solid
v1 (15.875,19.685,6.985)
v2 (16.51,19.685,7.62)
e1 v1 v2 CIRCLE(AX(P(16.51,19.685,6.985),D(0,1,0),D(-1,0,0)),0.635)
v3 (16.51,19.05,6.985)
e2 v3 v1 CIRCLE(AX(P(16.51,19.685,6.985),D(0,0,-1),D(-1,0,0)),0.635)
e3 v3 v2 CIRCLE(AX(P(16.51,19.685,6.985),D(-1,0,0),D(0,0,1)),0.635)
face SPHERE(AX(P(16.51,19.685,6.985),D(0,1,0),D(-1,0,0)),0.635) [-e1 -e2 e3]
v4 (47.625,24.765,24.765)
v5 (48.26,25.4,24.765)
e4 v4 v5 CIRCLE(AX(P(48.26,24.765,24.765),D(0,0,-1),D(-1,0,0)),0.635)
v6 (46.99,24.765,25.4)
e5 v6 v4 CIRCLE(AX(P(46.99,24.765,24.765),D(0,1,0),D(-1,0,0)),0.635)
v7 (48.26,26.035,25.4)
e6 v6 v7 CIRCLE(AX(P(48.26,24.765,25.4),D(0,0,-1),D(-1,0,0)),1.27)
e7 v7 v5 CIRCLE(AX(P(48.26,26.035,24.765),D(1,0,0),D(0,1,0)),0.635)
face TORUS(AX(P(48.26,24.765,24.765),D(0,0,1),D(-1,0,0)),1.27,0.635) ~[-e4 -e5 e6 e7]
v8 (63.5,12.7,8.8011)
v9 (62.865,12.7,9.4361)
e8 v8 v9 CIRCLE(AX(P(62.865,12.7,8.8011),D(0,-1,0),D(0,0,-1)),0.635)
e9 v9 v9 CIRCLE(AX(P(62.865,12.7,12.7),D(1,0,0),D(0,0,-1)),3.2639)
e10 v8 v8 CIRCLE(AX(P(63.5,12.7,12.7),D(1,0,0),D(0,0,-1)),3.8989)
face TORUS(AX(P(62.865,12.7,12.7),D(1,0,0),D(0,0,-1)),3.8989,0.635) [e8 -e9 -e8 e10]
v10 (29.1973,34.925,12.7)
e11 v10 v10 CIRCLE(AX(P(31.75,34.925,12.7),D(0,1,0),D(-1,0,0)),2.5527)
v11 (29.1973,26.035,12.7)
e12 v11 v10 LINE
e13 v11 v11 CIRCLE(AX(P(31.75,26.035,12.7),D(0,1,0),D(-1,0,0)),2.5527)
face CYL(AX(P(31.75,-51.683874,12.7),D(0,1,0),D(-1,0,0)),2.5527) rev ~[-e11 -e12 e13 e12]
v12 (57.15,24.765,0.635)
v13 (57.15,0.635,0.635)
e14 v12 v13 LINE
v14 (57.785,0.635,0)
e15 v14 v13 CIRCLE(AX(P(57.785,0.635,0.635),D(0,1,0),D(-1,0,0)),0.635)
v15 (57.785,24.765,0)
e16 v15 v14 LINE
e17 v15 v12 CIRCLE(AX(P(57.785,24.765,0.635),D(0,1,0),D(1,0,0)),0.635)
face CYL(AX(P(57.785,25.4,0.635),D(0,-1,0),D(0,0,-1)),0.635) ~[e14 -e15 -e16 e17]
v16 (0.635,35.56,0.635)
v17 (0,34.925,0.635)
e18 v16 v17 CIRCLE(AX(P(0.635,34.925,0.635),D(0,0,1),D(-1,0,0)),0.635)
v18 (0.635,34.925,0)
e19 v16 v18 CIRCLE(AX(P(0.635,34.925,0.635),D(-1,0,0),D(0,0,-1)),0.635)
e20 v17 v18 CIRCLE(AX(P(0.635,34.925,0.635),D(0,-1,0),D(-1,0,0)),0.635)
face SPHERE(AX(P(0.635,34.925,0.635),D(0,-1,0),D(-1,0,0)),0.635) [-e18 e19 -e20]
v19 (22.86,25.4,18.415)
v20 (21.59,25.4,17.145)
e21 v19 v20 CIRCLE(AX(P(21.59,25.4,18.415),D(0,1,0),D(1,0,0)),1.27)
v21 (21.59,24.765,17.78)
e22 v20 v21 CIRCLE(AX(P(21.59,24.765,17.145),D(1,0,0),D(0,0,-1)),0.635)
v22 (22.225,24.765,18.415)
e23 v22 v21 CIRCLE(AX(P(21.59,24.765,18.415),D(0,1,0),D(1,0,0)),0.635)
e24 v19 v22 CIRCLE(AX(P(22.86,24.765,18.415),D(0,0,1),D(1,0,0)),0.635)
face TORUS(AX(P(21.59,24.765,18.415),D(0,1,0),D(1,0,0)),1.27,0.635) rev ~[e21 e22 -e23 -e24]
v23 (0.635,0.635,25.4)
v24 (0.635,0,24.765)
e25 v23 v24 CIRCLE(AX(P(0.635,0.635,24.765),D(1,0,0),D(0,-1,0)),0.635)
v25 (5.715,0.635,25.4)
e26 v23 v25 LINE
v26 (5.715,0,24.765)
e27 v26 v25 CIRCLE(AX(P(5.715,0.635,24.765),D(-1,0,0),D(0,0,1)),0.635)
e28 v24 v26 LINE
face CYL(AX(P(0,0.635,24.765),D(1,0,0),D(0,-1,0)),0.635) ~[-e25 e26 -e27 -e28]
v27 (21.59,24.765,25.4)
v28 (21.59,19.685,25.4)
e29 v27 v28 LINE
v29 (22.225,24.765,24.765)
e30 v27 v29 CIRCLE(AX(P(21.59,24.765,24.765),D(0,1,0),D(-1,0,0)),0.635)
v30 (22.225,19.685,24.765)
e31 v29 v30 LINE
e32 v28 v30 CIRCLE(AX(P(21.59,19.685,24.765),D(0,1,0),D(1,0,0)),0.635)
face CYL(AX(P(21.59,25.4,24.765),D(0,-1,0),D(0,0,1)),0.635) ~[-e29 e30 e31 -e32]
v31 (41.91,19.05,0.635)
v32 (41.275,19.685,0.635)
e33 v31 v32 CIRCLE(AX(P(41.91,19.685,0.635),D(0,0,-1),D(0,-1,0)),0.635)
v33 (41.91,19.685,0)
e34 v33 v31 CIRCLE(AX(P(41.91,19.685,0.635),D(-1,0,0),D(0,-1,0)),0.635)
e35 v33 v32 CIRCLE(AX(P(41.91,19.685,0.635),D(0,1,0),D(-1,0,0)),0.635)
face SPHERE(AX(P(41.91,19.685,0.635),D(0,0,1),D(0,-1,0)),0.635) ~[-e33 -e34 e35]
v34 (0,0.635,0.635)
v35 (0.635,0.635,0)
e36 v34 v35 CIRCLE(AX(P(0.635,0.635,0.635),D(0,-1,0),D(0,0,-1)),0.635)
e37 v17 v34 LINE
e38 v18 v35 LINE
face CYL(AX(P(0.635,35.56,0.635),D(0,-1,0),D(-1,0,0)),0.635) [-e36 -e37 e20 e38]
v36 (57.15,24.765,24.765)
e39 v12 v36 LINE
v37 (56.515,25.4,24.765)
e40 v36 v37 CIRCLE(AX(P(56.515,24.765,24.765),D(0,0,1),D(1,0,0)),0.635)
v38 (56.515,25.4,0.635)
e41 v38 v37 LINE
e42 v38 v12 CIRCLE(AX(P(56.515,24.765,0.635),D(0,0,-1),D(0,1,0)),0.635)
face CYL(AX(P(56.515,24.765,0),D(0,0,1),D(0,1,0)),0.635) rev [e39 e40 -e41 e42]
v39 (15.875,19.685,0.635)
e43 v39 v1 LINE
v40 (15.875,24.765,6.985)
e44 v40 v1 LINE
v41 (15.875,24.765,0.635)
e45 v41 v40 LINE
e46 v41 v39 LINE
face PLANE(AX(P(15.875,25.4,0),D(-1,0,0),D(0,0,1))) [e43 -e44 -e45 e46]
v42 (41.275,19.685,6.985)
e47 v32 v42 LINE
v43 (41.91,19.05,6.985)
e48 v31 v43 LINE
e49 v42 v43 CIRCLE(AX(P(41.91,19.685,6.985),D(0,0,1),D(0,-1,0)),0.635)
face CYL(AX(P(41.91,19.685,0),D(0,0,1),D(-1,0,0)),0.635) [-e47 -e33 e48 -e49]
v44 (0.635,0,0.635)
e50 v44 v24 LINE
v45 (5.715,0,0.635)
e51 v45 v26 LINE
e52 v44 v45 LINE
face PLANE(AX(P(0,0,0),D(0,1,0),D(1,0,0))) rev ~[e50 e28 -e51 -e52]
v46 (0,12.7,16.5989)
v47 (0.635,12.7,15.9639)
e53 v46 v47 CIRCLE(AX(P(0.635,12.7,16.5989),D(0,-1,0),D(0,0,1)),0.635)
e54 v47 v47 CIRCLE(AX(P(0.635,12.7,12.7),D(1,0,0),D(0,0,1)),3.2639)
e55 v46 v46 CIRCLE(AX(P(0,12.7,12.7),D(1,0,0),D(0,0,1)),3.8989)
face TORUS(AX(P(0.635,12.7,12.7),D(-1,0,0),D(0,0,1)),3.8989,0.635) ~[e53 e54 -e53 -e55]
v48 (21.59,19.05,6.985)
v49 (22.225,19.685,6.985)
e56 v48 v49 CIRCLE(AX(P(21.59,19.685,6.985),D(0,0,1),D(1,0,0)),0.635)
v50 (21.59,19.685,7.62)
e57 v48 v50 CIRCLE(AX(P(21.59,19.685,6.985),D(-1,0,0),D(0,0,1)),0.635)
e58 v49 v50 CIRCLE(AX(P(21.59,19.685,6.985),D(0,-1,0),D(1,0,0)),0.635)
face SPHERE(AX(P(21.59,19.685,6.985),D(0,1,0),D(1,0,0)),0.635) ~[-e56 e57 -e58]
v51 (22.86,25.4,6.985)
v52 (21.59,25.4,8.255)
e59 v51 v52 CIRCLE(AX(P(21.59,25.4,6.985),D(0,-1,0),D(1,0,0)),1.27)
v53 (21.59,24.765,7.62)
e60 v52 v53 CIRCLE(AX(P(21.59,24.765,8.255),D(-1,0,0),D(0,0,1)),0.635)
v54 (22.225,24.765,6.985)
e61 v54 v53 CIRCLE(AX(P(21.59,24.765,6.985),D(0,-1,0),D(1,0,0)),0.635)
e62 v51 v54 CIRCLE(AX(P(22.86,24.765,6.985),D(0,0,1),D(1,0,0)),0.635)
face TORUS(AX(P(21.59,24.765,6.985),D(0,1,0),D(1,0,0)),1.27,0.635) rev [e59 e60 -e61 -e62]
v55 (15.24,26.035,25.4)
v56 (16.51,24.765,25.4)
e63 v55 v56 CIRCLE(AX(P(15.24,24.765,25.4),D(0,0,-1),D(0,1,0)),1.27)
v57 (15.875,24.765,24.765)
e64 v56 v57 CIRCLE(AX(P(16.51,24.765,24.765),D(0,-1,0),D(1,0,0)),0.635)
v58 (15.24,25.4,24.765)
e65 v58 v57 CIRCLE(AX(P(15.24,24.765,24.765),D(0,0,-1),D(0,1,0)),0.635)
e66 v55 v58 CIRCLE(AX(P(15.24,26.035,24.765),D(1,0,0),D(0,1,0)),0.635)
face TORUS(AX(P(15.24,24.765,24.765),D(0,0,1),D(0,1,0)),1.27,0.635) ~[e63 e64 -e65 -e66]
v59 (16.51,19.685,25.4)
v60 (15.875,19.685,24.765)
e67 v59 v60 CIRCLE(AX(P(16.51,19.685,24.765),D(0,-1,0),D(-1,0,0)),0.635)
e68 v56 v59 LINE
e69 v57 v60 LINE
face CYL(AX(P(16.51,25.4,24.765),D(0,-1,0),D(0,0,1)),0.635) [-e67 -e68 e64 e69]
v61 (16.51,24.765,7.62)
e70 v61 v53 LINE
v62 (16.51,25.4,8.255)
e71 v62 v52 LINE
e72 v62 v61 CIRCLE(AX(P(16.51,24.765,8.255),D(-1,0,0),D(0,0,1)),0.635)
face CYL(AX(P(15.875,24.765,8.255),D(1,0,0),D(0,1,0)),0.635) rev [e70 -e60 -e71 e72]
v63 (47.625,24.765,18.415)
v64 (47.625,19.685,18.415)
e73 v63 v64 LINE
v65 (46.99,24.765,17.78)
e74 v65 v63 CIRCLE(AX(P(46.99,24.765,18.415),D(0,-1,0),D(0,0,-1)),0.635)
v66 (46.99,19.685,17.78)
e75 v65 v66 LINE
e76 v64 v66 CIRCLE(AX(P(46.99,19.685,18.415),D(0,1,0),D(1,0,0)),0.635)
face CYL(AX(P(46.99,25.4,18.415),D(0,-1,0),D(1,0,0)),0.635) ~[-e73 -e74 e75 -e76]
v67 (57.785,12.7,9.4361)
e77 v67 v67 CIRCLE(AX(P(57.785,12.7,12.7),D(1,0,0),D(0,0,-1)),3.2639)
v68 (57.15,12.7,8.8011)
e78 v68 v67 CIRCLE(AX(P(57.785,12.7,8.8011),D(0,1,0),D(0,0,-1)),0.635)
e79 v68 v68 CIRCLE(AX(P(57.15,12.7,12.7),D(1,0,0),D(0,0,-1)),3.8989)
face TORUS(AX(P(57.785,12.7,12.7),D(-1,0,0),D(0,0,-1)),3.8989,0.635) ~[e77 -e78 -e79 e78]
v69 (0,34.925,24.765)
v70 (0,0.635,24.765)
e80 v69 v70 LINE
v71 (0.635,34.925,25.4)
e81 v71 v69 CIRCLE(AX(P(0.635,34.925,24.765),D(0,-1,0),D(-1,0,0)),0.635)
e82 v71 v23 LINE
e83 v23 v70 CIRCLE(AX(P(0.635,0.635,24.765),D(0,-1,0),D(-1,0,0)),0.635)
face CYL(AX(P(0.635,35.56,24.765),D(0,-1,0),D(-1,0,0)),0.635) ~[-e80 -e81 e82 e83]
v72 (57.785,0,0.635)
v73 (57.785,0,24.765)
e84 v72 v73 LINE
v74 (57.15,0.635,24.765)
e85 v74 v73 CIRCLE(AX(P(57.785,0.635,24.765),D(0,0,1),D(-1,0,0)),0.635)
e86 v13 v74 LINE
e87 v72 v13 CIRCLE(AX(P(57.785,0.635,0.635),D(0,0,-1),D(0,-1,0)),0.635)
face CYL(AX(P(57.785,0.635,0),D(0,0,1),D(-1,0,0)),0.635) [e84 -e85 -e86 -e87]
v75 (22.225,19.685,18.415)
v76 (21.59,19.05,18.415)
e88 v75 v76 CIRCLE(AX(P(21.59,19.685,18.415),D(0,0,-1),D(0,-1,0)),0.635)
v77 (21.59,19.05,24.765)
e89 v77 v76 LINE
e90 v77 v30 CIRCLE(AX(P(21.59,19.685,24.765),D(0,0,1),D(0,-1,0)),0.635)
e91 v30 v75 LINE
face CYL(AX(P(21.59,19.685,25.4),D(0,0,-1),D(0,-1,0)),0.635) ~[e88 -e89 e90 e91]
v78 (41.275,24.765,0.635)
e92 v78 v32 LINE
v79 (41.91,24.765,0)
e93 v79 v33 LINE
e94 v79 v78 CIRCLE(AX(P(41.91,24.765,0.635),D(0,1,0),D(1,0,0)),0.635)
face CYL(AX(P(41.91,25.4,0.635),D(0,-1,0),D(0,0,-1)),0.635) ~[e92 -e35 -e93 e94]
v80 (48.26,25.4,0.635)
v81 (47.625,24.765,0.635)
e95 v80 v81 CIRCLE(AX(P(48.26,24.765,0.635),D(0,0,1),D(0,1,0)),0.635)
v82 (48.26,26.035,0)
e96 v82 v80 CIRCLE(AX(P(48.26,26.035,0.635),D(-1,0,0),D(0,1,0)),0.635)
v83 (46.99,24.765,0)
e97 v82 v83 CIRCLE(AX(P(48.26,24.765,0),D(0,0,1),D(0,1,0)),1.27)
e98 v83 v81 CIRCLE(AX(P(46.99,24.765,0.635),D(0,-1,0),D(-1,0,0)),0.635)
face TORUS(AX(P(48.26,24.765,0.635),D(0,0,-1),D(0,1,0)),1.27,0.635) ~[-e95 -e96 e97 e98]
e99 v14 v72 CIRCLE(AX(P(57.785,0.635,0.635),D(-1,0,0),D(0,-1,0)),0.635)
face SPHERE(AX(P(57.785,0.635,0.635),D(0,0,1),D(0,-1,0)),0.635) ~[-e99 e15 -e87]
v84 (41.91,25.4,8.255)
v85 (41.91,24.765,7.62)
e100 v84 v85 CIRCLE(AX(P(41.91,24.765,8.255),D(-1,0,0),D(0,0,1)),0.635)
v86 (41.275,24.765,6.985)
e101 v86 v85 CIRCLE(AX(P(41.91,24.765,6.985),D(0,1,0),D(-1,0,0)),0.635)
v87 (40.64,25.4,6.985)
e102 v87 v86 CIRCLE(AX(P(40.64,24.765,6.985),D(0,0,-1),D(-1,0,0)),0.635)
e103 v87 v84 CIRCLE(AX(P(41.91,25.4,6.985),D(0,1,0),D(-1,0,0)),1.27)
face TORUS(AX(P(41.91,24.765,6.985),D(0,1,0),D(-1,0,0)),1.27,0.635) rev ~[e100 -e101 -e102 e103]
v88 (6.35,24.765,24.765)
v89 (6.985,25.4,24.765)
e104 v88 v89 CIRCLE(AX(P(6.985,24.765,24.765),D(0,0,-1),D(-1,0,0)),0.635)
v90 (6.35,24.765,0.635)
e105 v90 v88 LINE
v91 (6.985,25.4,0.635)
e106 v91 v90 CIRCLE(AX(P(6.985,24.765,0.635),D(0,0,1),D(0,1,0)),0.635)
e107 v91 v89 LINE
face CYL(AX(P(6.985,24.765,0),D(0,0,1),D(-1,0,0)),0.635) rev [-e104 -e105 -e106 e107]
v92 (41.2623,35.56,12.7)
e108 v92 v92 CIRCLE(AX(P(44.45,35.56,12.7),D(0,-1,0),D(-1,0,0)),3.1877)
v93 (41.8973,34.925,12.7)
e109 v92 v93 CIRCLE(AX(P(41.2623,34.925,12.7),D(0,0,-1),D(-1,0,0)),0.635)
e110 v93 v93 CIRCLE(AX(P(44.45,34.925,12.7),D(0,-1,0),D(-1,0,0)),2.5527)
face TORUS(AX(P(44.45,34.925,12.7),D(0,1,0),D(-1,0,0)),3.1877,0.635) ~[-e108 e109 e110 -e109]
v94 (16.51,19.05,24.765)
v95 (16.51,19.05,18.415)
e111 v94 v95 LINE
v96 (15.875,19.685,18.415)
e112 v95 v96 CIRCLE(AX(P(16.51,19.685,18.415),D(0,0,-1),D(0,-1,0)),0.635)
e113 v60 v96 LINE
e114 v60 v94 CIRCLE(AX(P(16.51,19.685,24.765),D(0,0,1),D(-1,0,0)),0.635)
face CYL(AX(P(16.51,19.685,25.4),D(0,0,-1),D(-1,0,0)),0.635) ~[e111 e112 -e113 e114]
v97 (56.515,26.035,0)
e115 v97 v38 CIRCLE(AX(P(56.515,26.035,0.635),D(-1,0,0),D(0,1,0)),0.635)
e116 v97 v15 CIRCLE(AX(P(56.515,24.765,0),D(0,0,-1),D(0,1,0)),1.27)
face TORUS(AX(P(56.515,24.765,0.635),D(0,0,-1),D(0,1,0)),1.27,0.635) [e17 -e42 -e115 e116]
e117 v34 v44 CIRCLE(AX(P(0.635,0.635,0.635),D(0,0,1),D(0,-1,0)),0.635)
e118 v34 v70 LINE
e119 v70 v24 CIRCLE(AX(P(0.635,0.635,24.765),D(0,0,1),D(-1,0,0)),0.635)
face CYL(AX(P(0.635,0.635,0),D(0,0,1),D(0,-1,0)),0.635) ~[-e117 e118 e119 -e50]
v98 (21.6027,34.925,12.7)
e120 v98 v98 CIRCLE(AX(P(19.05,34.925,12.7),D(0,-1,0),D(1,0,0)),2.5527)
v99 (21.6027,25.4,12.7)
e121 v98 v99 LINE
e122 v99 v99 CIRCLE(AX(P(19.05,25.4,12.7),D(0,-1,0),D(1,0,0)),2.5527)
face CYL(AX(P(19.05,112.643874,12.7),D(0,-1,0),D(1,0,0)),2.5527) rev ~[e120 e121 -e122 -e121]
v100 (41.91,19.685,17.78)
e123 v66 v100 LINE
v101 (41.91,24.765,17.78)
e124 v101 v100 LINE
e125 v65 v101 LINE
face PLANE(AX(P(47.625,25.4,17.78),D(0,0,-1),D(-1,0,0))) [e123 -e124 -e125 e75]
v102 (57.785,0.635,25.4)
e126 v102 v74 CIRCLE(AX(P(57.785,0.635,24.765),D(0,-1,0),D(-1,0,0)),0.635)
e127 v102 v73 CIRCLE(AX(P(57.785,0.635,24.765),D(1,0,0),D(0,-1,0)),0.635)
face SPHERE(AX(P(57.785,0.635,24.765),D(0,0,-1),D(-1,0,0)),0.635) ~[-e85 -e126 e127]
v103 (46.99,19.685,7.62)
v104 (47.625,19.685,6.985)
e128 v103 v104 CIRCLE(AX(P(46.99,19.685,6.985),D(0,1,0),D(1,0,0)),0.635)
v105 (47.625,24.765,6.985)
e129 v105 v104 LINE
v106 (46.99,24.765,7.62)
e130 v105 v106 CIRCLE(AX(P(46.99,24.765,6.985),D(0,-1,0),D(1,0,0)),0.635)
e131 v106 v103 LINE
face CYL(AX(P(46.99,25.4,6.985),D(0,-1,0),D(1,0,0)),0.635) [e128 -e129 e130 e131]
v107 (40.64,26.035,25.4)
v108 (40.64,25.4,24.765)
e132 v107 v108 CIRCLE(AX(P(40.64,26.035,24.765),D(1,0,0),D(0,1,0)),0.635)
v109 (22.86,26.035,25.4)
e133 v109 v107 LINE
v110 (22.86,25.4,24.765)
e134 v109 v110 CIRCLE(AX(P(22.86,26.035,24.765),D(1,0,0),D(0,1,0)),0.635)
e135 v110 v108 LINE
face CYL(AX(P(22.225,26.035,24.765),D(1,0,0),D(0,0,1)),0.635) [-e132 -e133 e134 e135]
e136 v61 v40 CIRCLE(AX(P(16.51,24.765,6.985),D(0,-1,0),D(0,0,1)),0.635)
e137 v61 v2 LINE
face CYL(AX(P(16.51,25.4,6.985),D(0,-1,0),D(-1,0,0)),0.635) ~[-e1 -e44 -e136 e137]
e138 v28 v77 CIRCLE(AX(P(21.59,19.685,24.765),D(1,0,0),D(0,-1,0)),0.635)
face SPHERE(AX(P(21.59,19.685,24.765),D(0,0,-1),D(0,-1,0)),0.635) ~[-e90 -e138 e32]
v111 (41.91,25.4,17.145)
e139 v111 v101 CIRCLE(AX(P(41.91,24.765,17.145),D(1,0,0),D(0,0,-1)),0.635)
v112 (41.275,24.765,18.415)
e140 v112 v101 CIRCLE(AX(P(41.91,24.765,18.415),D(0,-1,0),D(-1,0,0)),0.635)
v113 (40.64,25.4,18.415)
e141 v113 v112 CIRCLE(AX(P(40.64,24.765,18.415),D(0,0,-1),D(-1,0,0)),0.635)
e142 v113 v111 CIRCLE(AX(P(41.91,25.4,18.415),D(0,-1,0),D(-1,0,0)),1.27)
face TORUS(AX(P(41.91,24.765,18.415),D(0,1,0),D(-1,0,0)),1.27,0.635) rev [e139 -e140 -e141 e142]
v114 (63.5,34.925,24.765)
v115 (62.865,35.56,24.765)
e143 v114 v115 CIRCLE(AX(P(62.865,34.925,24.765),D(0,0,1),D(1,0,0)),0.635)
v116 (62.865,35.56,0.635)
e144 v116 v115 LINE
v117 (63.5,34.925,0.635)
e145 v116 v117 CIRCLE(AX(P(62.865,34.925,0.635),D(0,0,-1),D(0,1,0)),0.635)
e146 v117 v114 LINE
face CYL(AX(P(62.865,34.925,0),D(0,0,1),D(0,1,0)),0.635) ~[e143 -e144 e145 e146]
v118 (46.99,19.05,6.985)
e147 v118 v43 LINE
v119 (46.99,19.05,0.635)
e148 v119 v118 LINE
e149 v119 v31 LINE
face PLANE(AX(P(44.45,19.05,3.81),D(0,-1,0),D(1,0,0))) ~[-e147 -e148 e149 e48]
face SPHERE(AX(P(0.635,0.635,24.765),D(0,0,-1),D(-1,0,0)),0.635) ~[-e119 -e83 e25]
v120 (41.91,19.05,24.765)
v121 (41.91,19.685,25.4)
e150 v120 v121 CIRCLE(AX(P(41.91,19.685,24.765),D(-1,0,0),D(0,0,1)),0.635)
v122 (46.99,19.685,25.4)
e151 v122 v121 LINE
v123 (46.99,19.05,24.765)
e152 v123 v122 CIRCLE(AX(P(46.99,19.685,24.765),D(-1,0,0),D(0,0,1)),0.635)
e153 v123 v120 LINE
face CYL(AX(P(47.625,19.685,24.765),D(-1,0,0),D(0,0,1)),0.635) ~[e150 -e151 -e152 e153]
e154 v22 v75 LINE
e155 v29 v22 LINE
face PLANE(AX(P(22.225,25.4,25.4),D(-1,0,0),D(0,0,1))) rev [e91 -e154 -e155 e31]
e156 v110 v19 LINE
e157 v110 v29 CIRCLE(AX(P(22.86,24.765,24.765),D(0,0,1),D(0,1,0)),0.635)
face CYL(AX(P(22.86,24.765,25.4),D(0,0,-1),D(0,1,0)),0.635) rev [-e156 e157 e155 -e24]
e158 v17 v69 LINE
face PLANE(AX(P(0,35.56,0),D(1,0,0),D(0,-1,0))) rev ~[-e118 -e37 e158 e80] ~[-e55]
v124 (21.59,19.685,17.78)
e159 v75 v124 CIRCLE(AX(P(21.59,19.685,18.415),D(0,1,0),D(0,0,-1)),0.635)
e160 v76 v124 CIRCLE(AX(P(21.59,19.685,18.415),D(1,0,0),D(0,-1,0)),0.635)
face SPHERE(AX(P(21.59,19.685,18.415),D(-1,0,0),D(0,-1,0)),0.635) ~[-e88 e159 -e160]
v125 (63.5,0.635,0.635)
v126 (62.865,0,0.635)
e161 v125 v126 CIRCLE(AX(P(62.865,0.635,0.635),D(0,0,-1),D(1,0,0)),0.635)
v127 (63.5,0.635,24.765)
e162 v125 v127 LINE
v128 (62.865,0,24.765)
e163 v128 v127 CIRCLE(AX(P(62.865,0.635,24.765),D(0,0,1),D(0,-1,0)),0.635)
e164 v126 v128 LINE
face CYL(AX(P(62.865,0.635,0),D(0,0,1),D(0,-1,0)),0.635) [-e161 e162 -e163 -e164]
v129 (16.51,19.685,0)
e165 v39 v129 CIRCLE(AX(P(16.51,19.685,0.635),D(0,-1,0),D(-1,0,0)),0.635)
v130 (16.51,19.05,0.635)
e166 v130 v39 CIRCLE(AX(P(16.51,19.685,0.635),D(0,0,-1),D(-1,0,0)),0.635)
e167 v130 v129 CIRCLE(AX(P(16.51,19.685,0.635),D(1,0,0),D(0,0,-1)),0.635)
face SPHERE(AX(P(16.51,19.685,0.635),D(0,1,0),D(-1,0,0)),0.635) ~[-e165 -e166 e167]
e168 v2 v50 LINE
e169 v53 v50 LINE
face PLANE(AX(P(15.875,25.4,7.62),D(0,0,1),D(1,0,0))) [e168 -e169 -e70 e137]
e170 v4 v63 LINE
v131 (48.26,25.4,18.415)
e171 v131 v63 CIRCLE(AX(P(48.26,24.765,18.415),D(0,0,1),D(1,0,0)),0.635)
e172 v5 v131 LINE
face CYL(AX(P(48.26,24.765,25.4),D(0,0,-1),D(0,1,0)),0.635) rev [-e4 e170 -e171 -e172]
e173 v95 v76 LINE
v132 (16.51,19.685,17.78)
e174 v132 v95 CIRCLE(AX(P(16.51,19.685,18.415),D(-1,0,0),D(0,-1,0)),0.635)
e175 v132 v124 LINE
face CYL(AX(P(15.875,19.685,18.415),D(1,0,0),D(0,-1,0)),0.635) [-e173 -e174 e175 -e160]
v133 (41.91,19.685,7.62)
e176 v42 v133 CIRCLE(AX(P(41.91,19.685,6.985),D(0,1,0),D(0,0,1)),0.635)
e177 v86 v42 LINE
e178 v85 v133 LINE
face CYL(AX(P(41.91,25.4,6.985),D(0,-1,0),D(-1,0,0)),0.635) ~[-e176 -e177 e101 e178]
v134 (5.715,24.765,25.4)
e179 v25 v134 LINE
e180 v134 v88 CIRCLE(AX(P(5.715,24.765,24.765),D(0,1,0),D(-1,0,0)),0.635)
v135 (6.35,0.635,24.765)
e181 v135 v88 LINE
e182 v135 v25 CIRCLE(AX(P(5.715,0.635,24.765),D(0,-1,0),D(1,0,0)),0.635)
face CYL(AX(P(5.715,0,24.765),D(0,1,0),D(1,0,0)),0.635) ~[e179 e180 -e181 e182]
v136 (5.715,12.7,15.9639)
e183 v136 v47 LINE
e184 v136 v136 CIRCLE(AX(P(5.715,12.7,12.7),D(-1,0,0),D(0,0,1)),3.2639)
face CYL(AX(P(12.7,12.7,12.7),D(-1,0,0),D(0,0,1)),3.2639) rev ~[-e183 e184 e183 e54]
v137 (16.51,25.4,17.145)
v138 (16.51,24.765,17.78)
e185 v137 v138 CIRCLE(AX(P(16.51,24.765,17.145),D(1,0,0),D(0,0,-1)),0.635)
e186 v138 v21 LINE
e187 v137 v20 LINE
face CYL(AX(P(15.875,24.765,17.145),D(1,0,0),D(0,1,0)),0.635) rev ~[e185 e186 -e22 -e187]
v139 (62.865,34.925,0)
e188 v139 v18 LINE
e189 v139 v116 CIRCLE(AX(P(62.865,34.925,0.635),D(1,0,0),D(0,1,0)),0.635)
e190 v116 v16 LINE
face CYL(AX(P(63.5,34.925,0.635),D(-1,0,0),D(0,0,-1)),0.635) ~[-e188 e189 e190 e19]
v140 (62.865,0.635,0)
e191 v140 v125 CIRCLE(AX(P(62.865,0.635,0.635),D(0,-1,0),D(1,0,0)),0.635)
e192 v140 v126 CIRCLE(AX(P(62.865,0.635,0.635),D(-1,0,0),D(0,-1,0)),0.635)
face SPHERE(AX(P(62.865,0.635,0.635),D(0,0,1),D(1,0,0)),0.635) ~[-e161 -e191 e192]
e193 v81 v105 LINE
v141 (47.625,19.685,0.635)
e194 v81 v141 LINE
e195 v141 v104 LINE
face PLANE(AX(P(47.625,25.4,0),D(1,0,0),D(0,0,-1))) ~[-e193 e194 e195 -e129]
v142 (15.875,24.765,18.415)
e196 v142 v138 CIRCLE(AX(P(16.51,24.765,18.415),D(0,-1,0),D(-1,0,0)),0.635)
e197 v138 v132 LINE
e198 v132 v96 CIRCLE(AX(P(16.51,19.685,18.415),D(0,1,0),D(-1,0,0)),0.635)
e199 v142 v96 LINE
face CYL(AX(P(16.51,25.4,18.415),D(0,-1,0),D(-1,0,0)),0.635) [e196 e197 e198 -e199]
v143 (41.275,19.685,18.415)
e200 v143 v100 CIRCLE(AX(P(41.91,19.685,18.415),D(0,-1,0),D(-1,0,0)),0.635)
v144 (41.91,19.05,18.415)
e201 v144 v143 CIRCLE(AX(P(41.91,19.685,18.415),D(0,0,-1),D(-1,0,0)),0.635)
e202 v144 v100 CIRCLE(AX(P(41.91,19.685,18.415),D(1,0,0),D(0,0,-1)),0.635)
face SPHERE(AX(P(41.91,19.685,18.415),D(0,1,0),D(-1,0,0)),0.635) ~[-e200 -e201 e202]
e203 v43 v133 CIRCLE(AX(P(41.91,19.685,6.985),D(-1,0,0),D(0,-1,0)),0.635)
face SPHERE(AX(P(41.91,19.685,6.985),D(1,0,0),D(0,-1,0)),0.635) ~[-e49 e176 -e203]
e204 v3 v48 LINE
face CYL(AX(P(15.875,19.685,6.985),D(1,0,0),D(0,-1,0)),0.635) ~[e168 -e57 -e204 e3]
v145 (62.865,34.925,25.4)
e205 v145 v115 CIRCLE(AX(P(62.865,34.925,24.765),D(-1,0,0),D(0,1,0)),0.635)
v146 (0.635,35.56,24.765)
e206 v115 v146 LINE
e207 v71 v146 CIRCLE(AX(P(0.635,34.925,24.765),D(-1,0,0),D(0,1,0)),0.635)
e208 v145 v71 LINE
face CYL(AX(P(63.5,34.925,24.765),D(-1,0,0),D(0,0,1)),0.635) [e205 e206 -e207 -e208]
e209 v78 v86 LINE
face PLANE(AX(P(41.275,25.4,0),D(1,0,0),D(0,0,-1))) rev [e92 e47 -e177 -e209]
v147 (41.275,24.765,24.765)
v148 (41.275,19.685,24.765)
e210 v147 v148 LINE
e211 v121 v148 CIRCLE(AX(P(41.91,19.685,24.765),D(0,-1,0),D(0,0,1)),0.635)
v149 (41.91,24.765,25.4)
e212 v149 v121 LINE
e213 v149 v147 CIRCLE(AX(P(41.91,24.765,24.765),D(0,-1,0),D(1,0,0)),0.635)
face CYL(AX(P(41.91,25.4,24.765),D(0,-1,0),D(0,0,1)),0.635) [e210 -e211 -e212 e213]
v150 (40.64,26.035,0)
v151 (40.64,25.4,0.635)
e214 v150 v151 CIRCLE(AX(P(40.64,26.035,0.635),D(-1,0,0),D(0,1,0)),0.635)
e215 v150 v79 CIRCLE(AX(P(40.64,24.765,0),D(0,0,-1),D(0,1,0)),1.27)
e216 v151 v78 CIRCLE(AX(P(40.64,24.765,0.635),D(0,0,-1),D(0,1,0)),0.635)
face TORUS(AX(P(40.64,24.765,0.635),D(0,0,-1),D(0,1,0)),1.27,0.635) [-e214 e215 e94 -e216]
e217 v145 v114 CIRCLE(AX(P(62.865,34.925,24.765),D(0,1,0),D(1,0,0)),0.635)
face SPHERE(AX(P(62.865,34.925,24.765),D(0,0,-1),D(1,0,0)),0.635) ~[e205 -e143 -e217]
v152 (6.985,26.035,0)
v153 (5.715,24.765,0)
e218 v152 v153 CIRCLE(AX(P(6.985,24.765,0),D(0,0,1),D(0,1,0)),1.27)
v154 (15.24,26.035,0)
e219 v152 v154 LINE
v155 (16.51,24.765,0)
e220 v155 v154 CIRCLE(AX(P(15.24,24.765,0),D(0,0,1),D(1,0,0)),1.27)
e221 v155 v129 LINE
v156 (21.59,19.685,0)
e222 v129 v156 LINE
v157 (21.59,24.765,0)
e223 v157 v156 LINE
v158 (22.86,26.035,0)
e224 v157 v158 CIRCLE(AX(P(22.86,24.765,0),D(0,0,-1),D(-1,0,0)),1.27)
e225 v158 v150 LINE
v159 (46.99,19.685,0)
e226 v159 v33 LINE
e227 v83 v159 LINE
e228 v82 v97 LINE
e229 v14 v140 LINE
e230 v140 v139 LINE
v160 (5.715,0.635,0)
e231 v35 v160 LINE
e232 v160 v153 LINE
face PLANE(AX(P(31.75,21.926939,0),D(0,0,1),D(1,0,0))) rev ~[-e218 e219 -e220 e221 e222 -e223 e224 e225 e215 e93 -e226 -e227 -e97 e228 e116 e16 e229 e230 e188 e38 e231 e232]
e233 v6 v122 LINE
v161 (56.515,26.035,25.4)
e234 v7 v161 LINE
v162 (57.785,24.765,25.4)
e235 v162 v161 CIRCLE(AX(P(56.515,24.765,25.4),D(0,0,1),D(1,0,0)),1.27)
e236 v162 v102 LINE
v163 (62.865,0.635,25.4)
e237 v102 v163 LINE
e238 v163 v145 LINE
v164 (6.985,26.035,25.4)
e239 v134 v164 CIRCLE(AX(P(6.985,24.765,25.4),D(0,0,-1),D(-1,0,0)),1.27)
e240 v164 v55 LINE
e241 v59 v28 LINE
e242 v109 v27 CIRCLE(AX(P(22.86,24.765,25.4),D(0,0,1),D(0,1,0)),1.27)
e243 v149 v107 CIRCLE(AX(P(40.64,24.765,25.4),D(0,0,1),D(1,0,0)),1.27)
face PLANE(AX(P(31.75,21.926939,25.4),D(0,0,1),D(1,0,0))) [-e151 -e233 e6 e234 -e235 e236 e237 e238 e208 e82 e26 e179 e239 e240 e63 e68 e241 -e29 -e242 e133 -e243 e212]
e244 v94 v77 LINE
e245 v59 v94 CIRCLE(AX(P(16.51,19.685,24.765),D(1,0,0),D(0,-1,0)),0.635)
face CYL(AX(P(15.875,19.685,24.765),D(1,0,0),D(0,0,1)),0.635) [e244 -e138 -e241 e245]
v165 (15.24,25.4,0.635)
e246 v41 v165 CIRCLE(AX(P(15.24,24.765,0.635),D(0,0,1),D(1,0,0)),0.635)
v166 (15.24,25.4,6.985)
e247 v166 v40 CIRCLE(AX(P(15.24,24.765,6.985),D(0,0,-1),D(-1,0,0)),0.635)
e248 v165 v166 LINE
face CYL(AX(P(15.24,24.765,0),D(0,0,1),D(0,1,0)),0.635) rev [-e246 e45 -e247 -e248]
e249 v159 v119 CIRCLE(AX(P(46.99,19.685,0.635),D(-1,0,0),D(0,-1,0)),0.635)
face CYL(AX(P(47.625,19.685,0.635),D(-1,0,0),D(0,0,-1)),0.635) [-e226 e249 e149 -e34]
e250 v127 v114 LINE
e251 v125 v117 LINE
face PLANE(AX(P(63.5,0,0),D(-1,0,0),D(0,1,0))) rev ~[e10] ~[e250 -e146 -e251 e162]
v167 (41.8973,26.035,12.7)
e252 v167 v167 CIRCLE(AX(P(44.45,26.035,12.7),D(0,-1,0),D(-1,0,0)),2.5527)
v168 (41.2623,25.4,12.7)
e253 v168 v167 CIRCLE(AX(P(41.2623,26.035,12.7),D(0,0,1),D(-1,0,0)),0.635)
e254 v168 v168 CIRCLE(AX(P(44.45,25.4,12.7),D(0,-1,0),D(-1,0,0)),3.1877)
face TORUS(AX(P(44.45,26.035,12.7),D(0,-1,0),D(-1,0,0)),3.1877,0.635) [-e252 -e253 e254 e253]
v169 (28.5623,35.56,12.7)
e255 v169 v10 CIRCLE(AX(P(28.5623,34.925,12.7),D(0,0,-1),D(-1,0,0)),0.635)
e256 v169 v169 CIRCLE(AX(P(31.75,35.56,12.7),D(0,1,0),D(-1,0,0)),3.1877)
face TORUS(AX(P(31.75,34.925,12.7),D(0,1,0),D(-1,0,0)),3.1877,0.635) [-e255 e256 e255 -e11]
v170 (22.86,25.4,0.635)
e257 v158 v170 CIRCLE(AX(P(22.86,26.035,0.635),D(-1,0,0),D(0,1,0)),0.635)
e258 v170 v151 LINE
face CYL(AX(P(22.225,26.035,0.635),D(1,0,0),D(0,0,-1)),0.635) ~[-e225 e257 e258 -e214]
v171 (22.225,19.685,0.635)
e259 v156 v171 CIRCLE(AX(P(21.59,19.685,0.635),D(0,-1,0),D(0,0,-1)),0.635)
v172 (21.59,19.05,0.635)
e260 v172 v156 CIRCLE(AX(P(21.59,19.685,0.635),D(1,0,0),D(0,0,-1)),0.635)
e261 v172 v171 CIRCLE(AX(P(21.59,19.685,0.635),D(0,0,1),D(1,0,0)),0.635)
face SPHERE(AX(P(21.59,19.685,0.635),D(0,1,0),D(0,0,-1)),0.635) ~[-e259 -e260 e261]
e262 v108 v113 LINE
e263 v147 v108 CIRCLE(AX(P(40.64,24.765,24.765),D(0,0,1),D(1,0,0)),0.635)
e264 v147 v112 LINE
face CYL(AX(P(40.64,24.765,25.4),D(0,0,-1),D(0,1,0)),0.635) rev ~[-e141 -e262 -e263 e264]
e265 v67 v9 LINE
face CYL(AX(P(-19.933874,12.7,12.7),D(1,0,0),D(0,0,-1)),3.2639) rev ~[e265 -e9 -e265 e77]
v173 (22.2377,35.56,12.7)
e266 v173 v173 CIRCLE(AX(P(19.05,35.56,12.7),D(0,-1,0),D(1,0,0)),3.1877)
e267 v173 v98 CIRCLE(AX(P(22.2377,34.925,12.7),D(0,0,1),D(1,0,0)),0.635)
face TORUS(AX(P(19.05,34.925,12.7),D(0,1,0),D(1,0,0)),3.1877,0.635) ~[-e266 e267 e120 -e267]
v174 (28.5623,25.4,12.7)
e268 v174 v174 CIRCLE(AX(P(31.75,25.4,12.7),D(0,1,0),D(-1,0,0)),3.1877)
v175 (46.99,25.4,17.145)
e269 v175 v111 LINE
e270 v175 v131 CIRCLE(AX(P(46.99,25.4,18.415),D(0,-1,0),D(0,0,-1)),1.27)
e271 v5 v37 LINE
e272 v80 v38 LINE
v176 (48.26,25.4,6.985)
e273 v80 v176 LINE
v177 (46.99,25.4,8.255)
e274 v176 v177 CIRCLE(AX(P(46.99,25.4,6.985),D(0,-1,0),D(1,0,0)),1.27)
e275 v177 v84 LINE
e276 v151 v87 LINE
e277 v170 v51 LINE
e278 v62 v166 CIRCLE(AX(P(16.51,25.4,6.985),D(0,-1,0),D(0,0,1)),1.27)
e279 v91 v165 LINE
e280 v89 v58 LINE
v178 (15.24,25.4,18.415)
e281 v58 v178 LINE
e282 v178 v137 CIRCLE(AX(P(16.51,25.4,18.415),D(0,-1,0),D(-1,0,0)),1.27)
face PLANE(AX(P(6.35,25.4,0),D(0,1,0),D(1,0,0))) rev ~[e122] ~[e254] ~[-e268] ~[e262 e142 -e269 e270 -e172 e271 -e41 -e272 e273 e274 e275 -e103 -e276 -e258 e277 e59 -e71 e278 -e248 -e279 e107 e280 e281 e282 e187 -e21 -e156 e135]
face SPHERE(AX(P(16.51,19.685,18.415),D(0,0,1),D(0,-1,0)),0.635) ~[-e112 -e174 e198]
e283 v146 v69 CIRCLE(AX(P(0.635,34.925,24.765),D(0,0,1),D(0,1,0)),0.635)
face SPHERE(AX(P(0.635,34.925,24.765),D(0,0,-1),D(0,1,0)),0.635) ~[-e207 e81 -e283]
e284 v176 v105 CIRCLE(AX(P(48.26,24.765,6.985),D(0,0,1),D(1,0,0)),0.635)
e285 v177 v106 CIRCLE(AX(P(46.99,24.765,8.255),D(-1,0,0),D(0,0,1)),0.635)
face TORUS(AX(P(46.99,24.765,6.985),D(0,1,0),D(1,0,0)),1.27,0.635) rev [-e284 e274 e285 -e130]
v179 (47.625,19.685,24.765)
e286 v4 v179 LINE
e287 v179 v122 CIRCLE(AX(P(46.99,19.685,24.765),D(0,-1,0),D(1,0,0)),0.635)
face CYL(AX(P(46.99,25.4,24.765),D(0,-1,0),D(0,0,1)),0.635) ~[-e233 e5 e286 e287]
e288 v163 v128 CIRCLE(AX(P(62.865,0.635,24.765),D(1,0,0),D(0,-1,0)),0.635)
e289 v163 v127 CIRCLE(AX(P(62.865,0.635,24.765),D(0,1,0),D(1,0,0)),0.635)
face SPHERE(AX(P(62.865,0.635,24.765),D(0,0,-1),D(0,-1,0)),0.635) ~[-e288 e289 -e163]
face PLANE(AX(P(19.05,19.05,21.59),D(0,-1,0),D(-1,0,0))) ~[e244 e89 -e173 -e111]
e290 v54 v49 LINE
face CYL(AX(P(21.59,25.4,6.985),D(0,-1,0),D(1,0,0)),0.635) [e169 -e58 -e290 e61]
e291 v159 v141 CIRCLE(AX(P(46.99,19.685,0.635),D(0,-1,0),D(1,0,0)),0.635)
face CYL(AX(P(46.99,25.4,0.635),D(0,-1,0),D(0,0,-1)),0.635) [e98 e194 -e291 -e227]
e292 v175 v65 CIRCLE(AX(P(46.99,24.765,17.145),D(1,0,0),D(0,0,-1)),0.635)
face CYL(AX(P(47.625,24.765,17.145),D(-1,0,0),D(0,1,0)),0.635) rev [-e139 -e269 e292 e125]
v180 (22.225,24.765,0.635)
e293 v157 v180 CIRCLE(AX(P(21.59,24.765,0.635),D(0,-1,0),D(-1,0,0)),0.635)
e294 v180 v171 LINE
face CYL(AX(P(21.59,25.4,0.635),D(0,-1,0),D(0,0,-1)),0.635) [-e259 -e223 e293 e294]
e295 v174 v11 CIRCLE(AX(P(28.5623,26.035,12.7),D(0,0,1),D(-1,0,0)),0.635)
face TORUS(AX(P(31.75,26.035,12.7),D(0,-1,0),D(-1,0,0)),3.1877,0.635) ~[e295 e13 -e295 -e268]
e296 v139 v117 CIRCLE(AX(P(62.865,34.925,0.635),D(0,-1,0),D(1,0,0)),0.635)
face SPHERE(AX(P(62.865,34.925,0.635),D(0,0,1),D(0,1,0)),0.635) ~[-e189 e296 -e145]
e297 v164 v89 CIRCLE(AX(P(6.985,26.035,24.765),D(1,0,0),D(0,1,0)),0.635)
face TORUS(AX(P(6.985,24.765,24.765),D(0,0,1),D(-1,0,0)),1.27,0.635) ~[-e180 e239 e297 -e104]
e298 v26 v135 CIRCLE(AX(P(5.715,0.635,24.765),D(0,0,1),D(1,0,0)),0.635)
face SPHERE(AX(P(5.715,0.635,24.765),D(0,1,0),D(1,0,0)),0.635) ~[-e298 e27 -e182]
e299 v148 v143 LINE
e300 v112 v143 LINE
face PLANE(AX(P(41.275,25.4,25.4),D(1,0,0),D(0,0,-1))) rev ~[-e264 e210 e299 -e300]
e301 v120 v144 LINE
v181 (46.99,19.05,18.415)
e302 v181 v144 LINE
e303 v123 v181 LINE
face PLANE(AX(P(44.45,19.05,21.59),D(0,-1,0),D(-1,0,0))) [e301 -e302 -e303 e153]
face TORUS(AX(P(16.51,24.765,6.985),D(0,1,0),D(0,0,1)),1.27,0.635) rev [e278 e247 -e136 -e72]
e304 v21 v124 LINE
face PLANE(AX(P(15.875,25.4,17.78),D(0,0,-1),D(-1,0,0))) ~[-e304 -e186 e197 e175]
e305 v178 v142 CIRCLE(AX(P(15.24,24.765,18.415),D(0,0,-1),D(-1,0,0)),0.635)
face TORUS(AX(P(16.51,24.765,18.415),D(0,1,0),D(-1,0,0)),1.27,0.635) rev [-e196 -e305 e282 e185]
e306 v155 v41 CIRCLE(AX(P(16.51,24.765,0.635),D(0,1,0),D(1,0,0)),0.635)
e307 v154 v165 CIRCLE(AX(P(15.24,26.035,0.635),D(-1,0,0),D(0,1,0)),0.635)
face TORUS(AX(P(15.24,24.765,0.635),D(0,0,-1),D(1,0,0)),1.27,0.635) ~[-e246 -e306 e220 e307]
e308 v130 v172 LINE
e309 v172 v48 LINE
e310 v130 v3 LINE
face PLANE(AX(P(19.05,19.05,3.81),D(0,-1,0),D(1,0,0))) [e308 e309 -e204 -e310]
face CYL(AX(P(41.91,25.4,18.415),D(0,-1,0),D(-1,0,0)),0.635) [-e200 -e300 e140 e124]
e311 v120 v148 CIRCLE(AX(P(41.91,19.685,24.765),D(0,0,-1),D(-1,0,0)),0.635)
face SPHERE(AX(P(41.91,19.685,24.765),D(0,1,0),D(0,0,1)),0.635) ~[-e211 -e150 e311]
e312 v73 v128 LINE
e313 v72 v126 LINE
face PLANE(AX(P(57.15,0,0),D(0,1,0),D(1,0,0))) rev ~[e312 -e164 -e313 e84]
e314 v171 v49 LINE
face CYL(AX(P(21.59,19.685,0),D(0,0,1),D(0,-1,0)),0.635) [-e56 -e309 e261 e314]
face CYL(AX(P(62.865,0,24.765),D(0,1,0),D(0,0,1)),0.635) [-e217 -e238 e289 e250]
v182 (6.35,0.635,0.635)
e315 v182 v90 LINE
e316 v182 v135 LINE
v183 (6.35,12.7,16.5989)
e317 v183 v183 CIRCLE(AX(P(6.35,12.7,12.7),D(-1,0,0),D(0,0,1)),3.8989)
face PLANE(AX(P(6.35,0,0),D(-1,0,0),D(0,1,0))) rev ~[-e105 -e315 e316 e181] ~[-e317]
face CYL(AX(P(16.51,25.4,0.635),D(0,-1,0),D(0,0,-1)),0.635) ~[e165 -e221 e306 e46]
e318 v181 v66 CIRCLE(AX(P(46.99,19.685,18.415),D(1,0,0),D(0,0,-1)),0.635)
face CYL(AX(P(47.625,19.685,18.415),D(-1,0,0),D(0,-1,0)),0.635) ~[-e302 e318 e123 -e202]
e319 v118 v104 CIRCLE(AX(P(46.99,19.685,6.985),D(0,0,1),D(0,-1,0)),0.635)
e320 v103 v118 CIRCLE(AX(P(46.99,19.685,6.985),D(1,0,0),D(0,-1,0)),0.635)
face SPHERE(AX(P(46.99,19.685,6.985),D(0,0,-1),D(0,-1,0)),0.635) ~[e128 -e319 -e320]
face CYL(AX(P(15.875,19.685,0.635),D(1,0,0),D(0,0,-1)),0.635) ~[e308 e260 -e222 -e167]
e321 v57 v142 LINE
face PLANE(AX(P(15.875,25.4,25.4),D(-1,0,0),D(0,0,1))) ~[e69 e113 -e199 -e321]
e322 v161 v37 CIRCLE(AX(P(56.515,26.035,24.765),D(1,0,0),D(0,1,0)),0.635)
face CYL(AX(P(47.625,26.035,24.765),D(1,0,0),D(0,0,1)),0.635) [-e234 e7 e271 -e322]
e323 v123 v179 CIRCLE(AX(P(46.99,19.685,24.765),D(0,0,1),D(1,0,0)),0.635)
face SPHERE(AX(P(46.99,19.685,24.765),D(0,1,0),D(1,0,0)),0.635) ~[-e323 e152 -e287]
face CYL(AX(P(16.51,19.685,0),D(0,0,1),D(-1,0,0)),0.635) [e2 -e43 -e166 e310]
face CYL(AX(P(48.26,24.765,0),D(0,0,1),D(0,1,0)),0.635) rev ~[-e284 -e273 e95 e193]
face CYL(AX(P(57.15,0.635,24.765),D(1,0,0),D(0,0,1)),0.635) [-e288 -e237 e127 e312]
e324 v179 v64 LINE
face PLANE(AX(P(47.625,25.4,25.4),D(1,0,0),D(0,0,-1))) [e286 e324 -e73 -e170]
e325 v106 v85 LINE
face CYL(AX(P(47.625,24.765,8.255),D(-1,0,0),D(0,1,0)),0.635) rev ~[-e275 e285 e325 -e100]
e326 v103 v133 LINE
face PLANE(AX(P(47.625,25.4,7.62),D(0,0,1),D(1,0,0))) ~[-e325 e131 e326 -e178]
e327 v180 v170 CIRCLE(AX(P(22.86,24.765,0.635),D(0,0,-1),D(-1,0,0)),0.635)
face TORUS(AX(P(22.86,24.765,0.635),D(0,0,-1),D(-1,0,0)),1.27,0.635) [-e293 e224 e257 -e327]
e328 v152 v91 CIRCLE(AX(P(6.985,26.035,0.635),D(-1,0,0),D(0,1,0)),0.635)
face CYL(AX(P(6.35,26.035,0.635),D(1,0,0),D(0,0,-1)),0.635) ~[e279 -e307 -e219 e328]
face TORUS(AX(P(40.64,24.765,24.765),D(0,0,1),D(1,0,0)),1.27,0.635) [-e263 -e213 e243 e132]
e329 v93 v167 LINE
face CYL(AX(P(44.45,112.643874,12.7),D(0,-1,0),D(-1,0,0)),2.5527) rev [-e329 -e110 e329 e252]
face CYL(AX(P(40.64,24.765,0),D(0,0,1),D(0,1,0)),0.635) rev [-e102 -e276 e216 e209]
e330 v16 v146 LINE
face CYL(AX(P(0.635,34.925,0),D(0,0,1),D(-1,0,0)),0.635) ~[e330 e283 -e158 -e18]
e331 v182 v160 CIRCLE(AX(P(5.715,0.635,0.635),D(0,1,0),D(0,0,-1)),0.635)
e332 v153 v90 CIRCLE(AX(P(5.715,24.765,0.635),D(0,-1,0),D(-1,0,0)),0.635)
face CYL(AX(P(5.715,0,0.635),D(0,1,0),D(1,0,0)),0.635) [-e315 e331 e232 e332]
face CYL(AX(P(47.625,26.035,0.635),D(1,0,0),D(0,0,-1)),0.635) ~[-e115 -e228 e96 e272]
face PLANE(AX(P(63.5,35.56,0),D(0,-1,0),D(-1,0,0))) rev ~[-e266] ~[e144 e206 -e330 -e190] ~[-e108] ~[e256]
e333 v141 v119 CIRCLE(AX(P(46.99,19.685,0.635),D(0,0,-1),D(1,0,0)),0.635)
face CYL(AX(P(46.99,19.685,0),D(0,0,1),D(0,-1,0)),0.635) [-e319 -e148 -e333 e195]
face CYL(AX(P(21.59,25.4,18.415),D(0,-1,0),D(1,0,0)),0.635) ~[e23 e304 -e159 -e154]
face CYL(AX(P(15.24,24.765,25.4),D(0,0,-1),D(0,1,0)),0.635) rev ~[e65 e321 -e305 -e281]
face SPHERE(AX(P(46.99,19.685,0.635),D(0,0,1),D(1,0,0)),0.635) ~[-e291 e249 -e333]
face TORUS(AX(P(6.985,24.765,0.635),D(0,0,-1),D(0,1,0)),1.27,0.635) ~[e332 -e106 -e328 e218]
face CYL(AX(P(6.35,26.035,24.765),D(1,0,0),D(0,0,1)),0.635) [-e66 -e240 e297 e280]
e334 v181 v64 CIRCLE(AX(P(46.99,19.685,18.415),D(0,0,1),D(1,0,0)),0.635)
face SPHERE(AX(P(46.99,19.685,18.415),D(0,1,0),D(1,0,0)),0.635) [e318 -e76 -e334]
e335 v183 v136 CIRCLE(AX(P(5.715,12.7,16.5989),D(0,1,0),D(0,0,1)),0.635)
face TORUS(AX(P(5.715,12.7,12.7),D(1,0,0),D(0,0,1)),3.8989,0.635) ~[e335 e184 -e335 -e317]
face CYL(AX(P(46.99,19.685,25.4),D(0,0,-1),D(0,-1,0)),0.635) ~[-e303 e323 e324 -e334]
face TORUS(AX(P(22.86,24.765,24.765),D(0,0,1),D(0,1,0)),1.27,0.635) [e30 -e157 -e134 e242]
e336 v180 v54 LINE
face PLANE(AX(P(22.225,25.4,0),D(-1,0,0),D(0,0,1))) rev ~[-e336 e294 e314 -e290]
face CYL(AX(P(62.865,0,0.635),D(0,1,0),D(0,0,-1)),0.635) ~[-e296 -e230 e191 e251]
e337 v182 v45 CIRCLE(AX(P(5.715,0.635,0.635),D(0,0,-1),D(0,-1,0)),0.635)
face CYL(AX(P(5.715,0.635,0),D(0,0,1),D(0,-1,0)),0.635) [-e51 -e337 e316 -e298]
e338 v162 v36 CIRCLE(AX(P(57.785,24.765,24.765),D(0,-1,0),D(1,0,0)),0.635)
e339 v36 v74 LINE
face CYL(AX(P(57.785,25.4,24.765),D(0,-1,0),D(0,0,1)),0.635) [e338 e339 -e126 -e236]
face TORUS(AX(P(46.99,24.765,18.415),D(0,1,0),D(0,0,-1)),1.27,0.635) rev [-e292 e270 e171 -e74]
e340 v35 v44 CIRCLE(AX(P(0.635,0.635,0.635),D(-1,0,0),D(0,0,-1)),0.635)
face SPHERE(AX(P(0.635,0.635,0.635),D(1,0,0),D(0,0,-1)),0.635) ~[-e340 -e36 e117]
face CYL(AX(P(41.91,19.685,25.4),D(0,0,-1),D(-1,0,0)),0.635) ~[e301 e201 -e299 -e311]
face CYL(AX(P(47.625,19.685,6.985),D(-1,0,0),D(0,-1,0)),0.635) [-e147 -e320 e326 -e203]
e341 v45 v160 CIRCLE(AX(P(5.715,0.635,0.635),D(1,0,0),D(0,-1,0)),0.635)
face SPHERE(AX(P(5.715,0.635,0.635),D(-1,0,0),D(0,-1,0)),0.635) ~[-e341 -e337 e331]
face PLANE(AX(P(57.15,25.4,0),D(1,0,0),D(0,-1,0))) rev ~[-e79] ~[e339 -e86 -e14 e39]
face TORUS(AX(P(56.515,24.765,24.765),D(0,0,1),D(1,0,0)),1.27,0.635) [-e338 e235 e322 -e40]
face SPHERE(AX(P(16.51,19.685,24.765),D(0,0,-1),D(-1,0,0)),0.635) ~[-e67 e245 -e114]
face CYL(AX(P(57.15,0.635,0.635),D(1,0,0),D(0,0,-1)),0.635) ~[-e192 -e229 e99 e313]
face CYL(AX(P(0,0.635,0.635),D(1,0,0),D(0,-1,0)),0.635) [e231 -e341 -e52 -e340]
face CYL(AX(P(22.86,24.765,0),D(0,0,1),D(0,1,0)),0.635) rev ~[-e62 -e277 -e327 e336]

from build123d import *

# Parameters (mm, degrees)
BOSS_EXTRUDE1_DEPTH              = 25.4
SKETCH2_W                        = 6.35
SKETCH2_H                        = 7.62
BOSS_EXTRUDE2_DEPTH              = 6.35
F_1_4_20_TAPPED_HOLE1_D          = 5.1054
F_97_0_0059_DIAMETER_HOLE1_D     = 6.5278
F_97_0_0059_DIAMETER_HOLE1_DEPTH = 6.35
F_97_0_0059_DIAMETER_HOLE2_D     = 6.5278
MIRROR3_COPY_1_SKETCH_W          = 6.35
MIRROR3_COPY_1_SKETCH_H          = 7.62
MIRROR3_COPY_1_DEPTH             = 6.35
F_1_4_20_TAPPED_HOLE2_D          = 5.1054
FILLET2_R                        = 0.635


with BuildPart() as part:
    # Sketch1 → Boss-Extrude1 (new body)
    with BuildSketch(Plane.XY):
        Polygon((0, 0), (6.35, 0), (6.35, 25.4), (57.15, 25.4), (57.15, 0), (63.5, 0), (63.5, 35.56), (0, 35.56), align=None)
    extrude(amount=BOSS_EXTRUDE1_DEPTH)

    # Sketch2 → Boss-Extrude2 (add)
    with BuildSketch(Plane.XZ.offset(-25.4)):
        with Locations((19.05, 3.81)):
            Rectangle(SKETCH2_W, SKETCH2_H)
    boss_extrude2 = extrude(amount=BOSS_EXTRUDE2_DEPTH)

    # Mirror1: Boss-Extrude2 across plane
    add(boss_extrude2.mirror(Plane.XY.offset(12.7)))

    # 1/4-20 Tapped Hole1 (through all)
    with Locations(Plane(origin=(0, 35.56, 0), x_dir=(-1, 0, 0), z_dir=(0, 1, 0))):
        with Locations((-19.05, 12.7)):
            f_1_4_20_tapped_hole1 = Hole(F_1_4_20_TAPPED_HOLE1_D / 2)

    # #97 (0.0059) Diameter Hole1
    with Locations(Plane(origin=(6.35, 0, 0), x_dir=(0, 0, -1), z_dir=(1, 0, 0))):
        with Locations((-12.7, 12.7)):
            Hole(F_97_0_0059_DIAMETER_HOLE1_D / 2, depth=F_97_0_0059_DIAMETER_HOLE1_DEPTH)

    # #97 (0.0059) Diameter Hole2 (through all)
    with Locations(Plane.ZY.offset(-57.15)):
        with Locations((12.7, 12.7)):
            Hole(F_97_0_0059_DIAMETER_HOLE2_D / 2)

    # Mirror2: 1/4-20 Tapped Hole1 across plane
    add(f_1_4_20_tapped_hole1.mirror(Plane(origin=(31.75, 0, 0), x_dir=(0, 0, 1), z_dir=(1, 0, 0))), mode=Mode.SUBTRACT)

    # Mirror3: Boss-Extrude2 across plane
    add(boss_extrude2.mirror(Plane(origin=(31.75, 0, 0), x_dir=(0, 0, 1), z_dir=(1, 0, 0))))

    # Mirror3 copy 1 sketch → Mirror3 copy 1 (add)
    with BuildSketch(Plane(origin=(63.5, 25.4, 25.4), x_dir=(-1, 0, 0), z_dir=(0, -1, 0))):
        with Locations((19.05, 3.81)):
            Rectangle(MIRROR3_COPY_1_SKETCH_W, MIRROR3_COPY_1_SKETCH_H)
    extrude(amount=MIRROR3_COPY_1_DEPTH)

    # 1/4-20 Tapped Hole2 (through all)
    with Locations(Plane.XZ.offset(-25.4)):
        with Locations((31.75, 12.7)):
            Hole(F_1_4_20_TAPPED_HOLE2_D / 2)

    # Fillet2
    fillet2_edges = [part.edges().sort_by_distance(p)[0] for p in [
        (6.35, 12.7, 25.4),
        (3.175, 0, 0),
        (0, 17.78, 0),
        (11.1125, 25.4, 25.4),
        (0, 35.56, 12.7),
        (63.5, 35.56, 12.7),
        (63.5, 0, 12.7),
        (57.15, 0, 12.7),
        (57.15, 25.4, 12.7),
        (6.35, 25.4, 12.7),
        (6.35, 0, 12.7),
        (0, 0, 12.7),
        (57.15, 12.7, 25.4),
        (60.325, 0, 25.4),
        (63.5, 17.78, 25.4),
        (31.75, 25.4, 0),
        (31.75, 35.56, 25.4),
        (15.875, 25.4, 3.81),
        (15.875, 22.225, 7.62),
        (15.875, 22.225, 0),
        (22.225, 25.4, 3.81),
        (22.225, 22.225, 0),
        (19.05, 25.4, 7.62),
        (22.225, 22.225, 7.62),
        (15.875, 19.05, 3.81),
        (19.05, 19.05, 0),
        (22.225, 19.05, 3.81),
        (19.05, 19.05, 7.62),
        (31.75, 25.4, 25.4),
        (15.875, 19.05, 21.59),
        (15.875, 22.225, 25.4),
        (19.05, 19.05, 17.78),
        (15.875, 22.225, 17.78),
        (22.225, 19.05, 21.59),
        (22.225, 22.225, 17.78),
        (19.05, 19.05, 25.4),
        (22.225, 22.225, 25.4),
        (15.875, 25.4, 21.59),
        (0, 17.78, 25.4),
        (22.225, 25.4, 21.59),
        (19.05, 25.4, 17.78),
        (16.4973, 35.56, 12.7),
        (6.35, 12.7, 9.4361),
        (0, 12.7, 9.4361),
        (57.15, 12.7, 15.9639),
        (63.5, 12.7, 15.9639),
        (47.0027, 25.4, 12.7),
        (47.0027, 35.56, 12.7),
        (52.3875, 25.4, 0),
        (3.175, 0, 25.4),
        (47.625, 19.05, 3.81),
        (47.625, 22.225, 0),
        (44.45, 19.05, 7.62),
        (47.625, 22.225, 7.62),
        (41.275, 19.05, 3.81),
        (41.275, 22.225, 7.62),
        (44.45, 19.05, 0),
        (41.275, 22.225, 0),
        (47.625, 25.4, 3.81),
        (41.275, 25.4, 3.81),
        (44.45, 25.4, 7.62),
        (31.75, 35.56, 0),
        (52.3875, 25.4, 25.4),
        (63.5, 17.78, 0),
        (47.625, 25.4, 21.59),
        (47.625, 22.225, 17.78),
        (47.625, 22.225, 25.4),
        (41.275, 25.4, 21.59),
        (41.275, 22.225, 25.4),
        (44.45, 25.4, 17.78),
        (41.275, 22.225, 17.78),
        (47.625, 19.05, 21.59),
        (44.45, 19.05, 25.4),
        (41.275, 19.05, 21.59),
        (44.45, 19.05, 17.78),
        (60.325, 0, 0),
        (57.15, 12.7, 0),
        (11.1125, 25.4, 0),
        (6.35, 12.7, 0),
        (34.3027, 25.4, 12.7),
        (34.3027, 35.56, 12.7),
    ]]
    fillet(fillet2_edges, radius=FILLET2_R)


solid = part.part
